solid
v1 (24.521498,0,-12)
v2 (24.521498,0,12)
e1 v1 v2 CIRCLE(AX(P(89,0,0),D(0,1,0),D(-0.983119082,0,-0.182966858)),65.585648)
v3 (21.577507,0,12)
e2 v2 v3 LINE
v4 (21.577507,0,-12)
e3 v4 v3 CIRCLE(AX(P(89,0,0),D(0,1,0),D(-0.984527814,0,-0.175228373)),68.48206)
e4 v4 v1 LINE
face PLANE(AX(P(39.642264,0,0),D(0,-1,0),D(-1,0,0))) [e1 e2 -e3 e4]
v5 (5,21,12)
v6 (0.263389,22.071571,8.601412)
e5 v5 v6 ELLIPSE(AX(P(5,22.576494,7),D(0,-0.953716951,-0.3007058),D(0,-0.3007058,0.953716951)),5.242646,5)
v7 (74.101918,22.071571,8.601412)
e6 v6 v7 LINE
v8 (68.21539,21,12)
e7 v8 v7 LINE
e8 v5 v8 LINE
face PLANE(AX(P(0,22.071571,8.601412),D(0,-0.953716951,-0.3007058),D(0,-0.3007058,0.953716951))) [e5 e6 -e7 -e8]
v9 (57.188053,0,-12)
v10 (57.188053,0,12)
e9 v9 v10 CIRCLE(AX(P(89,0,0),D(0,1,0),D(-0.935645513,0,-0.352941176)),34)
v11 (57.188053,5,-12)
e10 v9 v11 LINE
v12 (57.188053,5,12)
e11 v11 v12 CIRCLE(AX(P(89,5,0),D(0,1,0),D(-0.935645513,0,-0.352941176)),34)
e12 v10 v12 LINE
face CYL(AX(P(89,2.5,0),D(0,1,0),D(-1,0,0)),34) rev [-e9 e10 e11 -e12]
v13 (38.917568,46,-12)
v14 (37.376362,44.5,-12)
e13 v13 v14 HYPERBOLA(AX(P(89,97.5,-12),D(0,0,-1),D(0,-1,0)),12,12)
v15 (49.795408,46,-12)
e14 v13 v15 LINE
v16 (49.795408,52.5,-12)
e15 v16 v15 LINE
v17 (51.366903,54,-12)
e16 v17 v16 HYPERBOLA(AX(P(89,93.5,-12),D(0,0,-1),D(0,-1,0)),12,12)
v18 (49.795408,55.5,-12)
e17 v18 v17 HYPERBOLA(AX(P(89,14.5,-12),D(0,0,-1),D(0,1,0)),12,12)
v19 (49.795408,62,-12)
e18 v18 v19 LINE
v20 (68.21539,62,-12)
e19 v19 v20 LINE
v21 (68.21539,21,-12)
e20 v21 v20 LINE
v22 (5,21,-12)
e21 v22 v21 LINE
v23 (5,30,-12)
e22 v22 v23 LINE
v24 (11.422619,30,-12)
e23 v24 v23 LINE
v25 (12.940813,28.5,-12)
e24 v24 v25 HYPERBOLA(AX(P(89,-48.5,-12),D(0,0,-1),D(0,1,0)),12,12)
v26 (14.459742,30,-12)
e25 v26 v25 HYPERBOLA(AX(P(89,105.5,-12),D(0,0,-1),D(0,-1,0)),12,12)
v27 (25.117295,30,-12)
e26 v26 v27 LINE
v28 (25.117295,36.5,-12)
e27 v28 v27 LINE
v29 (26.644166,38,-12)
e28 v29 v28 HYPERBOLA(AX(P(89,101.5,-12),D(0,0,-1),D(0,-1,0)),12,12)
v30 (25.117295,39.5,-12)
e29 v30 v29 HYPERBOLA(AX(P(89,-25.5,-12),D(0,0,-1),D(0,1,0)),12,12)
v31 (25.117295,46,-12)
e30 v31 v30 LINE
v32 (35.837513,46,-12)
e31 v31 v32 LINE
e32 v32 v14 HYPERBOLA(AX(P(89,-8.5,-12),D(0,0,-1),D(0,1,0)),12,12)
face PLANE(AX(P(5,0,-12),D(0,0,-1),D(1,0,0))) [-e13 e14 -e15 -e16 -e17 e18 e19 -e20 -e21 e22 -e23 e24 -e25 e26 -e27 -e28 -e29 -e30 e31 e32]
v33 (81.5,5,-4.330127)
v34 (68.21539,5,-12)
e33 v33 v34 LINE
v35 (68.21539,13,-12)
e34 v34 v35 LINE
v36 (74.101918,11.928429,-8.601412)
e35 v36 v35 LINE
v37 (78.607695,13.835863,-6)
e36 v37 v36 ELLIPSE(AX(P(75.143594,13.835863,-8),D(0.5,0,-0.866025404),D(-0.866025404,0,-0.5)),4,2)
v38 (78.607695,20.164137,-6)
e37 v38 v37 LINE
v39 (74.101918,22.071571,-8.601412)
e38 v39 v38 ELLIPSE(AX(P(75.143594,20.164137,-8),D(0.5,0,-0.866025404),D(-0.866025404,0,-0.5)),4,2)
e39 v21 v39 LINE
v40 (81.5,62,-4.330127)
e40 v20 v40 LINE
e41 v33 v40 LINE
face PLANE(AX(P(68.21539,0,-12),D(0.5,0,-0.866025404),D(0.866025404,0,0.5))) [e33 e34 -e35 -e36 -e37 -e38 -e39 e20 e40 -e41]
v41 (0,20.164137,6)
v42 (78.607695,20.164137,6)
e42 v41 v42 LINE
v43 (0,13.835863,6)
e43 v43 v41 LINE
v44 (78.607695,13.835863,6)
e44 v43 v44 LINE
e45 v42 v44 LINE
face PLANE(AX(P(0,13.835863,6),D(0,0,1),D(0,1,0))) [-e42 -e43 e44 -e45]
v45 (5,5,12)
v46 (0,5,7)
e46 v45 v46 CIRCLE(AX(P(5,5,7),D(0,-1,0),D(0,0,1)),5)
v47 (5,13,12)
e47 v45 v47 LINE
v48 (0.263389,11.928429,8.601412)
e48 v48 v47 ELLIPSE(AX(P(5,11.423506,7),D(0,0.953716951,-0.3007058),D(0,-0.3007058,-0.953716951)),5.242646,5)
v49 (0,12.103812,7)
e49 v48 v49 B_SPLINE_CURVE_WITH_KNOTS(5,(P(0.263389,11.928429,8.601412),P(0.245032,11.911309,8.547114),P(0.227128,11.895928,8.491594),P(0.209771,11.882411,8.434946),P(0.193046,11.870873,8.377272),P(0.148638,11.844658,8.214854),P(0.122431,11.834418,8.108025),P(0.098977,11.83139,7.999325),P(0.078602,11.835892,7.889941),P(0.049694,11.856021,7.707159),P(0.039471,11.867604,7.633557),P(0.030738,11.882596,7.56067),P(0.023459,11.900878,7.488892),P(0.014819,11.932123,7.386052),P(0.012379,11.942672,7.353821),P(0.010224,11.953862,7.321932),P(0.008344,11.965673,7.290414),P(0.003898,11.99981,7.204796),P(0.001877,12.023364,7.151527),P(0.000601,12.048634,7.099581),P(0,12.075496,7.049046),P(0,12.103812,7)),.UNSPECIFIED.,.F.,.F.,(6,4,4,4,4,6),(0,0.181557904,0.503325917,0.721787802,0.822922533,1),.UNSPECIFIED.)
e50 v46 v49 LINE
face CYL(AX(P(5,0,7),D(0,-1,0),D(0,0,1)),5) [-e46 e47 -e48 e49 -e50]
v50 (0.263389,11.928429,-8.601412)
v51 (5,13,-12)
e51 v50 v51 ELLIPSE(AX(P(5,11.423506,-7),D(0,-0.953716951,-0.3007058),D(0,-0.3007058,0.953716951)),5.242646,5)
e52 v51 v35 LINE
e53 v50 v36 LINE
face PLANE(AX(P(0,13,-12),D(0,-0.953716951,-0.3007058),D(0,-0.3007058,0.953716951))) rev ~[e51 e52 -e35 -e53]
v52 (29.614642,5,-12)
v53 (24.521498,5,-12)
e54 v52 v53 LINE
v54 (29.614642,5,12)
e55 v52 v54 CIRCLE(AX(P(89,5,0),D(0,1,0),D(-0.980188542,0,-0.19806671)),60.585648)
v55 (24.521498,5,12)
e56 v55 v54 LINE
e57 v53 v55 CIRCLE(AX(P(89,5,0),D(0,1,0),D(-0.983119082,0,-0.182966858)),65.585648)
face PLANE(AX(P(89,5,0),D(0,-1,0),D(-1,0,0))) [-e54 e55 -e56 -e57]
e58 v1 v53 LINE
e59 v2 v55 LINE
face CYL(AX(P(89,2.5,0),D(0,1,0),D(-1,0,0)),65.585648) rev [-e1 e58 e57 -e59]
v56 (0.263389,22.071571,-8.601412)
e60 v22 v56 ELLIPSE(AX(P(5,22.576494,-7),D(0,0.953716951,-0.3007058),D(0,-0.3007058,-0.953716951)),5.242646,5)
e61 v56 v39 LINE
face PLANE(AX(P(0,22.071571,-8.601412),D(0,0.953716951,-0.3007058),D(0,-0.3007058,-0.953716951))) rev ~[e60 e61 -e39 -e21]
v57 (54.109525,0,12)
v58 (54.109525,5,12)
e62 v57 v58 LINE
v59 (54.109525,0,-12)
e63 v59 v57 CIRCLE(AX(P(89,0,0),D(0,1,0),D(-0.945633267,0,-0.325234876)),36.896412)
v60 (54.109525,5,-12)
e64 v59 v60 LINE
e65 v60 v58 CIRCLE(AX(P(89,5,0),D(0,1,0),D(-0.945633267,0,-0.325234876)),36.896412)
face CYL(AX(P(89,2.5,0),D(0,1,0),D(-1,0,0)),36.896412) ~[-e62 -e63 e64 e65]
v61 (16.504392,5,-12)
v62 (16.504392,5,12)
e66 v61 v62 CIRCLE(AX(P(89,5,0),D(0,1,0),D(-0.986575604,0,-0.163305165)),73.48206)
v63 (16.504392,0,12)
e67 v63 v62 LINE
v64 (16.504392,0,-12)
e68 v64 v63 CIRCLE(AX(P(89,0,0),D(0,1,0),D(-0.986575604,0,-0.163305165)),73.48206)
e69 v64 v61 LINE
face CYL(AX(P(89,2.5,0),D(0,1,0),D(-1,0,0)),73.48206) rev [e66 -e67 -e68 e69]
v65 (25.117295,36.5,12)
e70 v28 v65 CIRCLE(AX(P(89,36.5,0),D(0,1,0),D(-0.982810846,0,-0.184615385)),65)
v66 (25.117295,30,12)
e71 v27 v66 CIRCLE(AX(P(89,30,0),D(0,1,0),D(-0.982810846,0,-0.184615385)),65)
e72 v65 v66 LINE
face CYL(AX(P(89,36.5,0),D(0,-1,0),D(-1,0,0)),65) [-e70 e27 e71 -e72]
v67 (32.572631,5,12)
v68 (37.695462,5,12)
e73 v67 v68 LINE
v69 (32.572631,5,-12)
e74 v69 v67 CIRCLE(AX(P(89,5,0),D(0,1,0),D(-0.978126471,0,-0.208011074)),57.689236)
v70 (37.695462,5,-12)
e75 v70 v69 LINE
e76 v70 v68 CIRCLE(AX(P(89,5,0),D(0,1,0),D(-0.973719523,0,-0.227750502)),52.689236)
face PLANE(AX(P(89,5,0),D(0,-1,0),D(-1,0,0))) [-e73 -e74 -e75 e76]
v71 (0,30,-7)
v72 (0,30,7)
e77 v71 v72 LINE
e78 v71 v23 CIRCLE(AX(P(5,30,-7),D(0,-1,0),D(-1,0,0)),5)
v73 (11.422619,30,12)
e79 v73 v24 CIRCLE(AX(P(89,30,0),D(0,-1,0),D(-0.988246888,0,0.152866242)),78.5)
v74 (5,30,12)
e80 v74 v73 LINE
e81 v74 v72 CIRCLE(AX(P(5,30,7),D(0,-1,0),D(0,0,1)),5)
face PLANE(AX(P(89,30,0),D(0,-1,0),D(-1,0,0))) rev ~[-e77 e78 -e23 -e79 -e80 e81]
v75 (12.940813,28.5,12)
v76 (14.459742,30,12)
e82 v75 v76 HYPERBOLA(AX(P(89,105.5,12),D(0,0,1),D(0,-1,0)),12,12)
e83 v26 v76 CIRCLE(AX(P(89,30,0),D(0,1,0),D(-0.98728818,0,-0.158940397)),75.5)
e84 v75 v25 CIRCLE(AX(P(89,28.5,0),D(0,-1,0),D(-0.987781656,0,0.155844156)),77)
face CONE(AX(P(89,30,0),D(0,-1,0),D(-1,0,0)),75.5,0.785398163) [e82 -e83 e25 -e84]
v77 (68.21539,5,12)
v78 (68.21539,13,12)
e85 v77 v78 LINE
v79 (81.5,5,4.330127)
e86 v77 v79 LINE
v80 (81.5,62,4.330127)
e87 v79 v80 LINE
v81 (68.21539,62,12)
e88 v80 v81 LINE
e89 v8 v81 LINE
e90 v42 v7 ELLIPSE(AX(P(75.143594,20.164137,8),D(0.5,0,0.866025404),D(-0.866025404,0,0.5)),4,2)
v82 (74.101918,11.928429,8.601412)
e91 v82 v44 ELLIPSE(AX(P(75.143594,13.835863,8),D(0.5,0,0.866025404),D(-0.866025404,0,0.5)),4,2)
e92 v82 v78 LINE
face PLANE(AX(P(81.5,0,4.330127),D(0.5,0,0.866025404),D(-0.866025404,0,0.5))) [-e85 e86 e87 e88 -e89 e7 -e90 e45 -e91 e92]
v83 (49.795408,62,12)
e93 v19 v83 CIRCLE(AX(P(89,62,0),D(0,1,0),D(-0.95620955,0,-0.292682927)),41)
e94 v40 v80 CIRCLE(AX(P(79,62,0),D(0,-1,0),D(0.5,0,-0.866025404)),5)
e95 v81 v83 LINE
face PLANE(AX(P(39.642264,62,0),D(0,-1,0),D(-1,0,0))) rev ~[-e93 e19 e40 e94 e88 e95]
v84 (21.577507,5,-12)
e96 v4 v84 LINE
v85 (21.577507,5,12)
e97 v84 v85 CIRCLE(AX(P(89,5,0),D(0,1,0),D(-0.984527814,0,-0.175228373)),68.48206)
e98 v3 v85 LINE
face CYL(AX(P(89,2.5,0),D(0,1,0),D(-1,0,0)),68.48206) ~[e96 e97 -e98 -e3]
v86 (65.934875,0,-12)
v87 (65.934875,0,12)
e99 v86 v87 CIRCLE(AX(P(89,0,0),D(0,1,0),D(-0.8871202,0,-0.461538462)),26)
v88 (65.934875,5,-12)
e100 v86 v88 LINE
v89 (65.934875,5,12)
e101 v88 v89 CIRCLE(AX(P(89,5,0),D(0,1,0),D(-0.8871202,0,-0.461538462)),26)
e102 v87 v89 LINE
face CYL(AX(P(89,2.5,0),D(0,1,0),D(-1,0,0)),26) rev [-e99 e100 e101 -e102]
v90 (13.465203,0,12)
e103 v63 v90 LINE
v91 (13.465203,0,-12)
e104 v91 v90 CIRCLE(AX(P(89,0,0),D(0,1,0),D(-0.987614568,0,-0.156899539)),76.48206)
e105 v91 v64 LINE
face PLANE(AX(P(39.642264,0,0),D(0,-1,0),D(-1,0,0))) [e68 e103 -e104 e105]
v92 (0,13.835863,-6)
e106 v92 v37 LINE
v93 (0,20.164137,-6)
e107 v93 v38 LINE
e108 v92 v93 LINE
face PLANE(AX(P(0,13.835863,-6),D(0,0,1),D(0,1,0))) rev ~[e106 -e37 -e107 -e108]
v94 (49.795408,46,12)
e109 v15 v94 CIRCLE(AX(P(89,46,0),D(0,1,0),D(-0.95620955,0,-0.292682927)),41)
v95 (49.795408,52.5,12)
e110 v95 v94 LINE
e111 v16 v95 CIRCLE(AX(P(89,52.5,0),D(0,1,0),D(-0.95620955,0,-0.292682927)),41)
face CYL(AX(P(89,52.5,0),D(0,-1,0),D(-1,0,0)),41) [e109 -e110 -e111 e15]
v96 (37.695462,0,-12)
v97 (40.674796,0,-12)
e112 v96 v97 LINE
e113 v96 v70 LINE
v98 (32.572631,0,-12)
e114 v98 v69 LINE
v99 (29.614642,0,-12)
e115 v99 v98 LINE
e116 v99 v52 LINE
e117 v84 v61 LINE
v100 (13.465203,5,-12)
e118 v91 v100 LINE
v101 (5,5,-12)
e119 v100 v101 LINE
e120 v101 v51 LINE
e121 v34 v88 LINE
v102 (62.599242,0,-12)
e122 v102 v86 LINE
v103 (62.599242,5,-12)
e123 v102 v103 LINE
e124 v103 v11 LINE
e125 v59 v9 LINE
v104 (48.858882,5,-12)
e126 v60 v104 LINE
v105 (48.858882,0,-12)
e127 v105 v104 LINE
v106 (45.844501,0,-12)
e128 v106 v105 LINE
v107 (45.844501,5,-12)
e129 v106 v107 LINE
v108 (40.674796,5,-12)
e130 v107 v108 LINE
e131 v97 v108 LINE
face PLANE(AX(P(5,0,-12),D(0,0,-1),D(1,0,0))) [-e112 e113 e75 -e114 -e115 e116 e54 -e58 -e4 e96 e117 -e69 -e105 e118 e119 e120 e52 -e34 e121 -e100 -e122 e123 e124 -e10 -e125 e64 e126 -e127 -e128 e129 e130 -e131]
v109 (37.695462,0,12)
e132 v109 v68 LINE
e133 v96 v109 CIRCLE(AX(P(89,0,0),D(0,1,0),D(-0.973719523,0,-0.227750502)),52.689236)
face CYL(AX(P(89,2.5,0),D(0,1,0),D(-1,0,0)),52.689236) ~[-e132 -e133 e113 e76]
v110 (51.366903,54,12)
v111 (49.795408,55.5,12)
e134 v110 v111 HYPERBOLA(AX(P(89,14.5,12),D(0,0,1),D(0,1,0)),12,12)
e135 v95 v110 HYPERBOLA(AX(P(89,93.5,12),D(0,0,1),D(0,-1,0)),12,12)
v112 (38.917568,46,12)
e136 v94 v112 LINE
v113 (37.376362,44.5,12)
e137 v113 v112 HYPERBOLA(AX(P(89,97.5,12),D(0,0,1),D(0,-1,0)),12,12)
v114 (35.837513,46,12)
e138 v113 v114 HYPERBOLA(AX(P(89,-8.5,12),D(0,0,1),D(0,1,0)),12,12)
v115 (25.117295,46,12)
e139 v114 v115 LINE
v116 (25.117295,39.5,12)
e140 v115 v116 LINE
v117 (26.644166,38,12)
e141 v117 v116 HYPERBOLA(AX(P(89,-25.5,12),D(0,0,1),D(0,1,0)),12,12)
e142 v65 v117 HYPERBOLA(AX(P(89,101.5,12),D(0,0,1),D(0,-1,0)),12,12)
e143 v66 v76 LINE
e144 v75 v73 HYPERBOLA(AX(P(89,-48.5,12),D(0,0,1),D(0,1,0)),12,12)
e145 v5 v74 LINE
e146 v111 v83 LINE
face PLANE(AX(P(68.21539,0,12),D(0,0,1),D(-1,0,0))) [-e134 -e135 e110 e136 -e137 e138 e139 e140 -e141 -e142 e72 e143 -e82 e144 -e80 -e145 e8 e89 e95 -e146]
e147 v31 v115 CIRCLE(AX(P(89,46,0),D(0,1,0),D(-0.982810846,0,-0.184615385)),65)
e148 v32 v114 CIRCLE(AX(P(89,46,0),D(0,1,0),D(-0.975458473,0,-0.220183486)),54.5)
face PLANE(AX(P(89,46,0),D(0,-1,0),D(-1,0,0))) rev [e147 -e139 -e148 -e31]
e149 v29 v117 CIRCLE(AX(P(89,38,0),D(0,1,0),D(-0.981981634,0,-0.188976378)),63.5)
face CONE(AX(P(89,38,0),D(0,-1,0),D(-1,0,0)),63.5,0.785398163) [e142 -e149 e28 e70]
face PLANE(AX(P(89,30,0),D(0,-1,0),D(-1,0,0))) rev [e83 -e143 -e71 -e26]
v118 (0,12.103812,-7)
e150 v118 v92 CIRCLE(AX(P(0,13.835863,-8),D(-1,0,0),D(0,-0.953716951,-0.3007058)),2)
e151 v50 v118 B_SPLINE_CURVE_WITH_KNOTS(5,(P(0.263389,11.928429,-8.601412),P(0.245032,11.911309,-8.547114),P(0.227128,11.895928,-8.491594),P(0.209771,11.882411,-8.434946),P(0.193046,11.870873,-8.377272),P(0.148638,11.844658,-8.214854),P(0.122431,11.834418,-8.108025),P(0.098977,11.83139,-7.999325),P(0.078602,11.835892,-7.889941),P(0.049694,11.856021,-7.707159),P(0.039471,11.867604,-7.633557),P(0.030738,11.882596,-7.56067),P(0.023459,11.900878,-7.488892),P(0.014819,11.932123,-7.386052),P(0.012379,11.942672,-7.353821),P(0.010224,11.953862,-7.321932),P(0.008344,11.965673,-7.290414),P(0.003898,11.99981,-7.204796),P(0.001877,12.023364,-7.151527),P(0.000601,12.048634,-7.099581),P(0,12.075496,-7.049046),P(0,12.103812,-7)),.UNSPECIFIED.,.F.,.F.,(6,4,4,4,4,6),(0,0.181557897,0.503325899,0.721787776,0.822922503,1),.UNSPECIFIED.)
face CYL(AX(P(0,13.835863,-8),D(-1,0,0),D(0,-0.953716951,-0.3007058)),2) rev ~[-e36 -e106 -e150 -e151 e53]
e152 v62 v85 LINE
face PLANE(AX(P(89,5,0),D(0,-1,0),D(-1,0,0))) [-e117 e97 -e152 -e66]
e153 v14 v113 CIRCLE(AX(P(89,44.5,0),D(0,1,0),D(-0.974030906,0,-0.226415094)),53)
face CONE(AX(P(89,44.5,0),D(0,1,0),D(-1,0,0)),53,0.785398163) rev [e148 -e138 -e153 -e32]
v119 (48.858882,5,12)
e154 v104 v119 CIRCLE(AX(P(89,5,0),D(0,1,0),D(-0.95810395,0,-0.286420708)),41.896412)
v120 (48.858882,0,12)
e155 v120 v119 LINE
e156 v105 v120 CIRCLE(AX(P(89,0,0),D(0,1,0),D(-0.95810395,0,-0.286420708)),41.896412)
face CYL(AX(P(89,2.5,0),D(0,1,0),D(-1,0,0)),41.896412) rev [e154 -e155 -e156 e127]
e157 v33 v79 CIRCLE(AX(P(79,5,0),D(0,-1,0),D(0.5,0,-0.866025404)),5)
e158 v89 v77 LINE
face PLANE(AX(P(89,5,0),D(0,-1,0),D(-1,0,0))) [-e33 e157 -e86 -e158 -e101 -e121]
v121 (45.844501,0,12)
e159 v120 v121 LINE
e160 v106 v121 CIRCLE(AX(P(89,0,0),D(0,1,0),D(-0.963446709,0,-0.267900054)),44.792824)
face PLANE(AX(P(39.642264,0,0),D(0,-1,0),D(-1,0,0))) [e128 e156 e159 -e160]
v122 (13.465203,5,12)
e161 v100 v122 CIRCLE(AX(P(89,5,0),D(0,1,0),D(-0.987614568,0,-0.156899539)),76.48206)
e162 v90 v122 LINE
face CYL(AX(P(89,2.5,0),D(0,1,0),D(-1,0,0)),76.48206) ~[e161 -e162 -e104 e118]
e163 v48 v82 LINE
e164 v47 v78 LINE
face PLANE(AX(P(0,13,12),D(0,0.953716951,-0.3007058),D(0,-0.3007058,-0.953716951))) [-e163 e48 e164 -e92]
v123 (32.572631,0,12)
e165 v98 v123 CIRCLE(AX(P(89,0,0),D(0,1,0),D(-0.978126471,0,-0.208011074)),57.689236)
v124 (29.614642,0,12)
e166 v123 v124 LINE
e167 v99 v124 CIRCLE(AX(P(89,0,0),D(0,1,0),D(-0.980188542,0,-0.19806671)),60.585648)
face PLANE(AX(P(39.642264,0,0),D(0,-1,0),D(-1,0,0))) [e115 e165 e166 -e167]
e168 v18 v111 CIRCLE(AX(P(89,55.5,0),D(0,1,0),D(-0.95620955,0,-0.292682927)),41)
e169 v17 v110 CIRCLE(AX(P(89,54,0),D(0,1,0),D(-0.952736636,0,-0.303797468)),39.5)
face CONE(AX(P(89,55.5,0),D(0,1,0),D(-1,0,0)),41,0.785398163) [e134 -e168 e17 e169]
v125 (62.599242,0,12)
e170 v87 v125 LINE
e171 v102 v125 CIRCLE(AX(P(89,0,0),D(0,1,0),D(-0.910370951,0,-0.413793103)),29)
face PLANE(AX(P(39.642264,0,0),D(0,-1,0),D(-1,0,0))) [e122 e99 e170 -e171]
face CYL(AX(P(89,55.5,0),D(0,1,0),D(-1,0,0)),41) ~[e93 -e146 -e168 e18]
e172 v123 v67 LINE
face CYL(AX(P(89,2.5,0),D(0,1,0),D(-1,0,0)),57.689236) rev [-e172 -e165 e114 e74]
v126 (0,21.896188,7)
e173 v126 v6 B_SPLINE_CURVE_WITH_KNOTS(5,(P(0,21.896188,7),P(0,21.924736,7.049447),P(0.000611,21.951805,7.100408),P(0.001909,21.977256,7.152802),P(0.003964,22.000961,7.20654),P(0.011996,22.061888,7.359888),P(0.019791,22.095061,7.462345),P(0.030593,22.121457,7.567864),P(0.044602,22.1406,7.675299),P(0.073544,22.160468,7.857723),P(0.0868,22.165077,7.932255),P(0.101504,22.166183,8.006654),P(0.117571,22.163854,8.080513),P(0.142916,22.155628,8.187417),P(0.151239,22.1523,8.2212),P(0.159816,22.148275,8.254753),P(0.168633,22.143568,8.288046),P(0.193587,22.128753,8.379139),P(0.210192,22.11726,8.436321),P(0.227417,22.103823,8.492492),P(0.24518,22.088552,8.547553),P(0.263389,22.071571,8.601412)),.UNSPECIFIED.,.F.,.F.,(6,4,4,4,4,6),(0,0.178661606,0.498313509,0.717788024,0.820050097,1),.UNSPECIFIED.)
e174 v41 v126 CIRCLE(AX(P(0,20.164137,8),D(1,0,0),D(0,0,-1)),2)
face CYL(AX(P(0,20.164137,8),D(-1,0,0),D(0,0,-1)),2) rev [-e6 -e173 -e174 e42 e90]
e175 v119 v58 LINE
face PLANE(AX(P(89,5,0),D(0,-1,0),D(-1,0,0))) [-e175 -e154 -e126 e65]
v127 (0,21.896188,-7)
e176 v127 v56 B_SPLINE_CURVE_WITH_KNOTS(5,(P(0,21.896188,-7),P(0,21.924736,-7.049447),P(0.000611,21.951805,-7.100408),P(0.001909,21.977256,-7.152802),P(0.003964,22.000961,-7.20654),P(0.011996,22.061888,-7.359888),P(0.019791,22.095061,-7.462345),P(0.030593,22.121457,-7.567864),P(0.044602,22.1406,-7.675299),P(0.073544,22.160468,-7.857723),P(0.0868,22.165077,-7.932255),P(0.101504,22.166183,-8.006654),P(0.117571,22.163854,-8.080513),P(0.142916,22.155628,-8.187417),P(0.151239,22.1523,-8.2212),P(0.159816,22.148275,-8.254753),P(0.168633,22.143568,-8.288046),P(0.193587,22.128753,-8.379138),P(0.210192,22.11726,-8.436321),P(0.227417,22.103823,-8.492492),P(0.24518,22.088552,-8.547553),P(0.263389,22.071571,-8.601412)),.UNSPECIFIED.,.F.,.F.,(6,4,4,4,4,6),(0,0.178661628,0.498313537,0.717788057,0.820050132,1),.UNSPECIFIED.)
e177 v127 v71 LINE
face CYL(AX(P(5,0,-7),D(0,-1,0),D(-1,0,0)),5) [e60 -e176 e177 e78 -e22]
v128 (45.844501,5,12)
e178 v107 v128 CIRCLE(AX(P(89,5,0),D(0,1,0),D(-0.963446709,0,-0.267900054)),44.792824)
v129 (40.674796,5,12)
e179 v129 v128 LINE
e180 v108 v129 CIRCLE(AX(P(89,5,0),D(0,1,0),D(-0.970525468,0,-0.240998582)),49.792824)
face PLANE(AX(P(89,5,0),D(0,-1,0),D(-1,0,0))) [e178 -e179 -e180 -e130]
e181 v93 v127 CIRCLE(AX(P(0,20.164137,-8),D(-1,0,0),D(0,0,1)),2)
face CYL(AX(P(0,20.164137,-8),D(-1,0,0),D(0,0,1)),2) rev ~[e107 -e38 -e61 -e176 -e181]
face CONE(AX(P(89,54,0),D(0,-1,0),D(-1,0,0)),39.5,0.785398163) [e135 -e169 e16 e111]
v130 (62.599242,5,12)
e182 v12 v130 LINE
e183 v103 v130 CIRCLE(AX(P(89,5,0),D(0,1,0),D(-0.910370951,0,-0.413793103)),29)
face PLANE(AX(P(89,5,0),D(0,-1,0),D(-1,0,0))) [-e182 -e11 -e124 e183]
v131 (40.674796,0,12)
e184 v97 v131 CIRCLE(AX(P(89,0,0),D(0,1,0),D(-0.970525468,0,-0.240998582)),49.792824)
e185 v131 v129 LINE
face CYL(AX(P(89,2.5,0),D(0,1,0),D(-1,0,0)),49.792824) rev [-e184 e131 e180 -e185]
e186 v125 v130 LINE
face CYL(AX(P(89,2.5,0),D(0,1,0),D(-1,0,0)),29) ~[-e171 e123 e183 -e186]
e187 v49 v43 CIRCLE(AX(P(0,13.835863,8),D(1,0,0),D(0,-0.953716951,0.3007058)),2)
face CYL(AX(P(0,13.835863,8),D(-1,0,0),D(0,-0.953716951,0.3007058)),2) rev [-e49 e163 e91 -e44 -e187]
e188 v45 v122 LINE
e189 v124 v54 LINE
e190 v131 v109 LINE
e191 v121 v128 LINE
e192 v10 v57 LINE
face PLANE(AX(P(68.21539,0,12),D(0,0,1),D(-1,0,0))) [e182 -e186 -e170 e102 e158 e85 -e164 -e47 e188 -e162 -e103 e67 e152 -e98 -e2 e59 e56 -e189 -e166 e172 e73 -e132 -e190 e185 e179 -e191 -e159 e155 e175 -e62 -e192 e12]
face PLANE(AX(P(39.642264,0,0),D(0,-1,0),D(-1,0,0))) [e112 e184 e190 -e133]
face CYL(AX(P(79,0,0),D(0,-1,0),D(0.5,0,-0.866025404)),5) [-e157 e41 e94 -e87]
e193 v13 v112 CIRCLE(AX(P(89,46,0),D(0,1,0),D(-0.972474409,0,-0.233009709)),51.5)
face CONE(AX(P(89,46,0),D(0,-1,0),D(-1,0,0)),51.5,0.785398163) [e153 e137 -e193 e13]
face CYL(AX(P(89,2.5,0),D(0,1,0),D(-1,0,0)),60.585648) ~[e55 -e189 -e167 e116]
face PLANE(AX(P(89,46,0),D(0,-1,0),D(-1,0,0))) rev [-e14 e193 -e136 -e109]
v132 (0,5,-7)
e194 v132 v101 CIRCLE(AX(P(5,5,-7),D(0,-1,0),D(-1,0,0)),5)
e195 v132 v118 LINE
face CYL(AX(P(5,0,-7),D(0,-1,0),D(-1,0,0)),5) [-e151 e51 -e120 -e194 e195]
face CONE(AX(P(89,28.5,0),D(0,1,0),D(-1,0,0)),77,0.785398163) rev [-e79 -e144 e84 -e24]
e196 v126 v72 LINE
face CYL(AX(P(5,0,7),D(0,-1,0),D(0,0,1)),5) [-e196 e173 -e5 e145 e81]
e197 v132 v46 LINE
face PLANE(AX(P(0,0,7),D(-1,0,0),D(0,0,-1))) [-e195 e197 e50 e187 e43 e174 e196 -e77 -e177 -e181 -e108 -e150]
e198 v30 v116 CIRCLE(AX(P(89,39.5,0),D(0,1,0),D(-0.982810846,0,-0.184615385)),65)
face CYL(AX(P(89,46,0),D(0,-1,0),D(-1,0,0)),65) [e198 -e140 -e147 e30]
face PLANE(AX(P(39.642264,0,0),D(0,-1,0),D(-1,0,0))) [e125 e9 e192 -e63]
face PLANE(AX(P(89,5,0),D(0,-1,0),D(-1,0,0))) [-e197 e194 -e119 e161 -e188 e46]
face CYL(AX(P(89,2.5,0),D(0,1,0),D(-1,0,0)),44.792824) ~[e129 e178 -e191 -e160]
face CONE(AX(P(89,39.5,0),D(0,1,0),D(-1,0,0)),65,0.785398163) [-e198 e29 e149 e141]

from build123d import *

# Parameters (mm, degrees)
BOSS_EXTRUDE1_DEPTH = 62
SKETCH5_W           = 26
SKETCH5_H           = 5
SKETCH5_W_2         = 5
SKETCH5_W_3         = 14.428632876
CUT_EXTRUDE1_DEPTH  = 106.090437243


with BuildPart() as part:
    # Sketch1 → Boss-Extrude1 (new body)
    with BuildSketch(Plane(origin=(0, 0, 0), x_dir=(1, 0, 0), z_dir=(0, 1, 0))):
        with BuildLine():
            Line((0, -7), (0, 7))
            ThreePointArc((0, 7), (1.464466094, 10.535533906), (5, 12))
            Line((5, 12), (68.215390309, 12))
            Line((68.215390309, 12), (81.5, 4.330127019))
            ThreePointArc((81.5, 4.330127019), (84, 0), (81.5, -4.330127019))
            Line((81.5, -4.330127019), (68.215390309, -12))
            Line((68.215390309, -12), (5, -12))
            ThreePointArc((5, -12), (1.464466094, -10.535533906), (0, -7))
        make_face()
    extrude(amount=BOSS_EXTRUDE1_DEPTH)

    # Sketch2 → Cut-Revolve1 (revolve, cut)
    with BuildSketch(Plane.XY):
        Polygon((48, 62), (48, 55.5), (49.5, 54), (48, 52.5), (48, 46), (37.5, 46), (36, 44.5), (34.5, 46), (24, 46), (24, 39.5), (25.5, 38), (24, 36.5), (24, 30), (13.5, 30), (12, 28.5), (10.5, 30), (0, 30), (-10, 30), (-10, 72), (48, 72), align=None)
    revolve(axis=Axis((89, 71.362230297, 0), (0, -1, 0)), mode=Mode.SUBTRACT)

    # Sketch5 → Cut-Revolve2 (revolve, cut)
    with BuildSketch(Plane.XY):
        with Locations((76, 2.5)):
            Rectangle(SKETCH5_W, SKETCH5_H)
        with Locations((57.5, 2.5)):
            Rectangle(SKETCH5_W_2, SKETCH5_H)
        with Locations((49.603587942, 2.5)):
            Rectangle(SKETCH5_W_2, SKETCH5_H)
        with Locations((41.707175883, 2.5)):
            Rectangle(SKETCH5_W_2, SKETCH5_H)
        with Locations((33.810763825, 2.5)):
            Rectangle(SKETCH5_W_2, SKETCH5_H)
        with Locations((25.914351767, 2.5)):
            Rectangle(SKETCH5_W_2, SKETCH5_H)
        with Locations((18.017939709, 2.5)):
            Rectangle(SKETCH5_W_2, SKETCH5_H)
        with Locations((5.303623271, 2.5)):
            Rectangle(SKETCH5_W_3, SKETCH5_H)
    revolve(axis=Axis((89, 64.780829091, 0), (0, -1, 0)), mode=Mode.SUBTRACT)

    # Sketch6 → Cut-Extrude1 (cut, through all)
    with BuildSketch(Plane(origin=(0, 0, 0), x_dir=(0, 0, -1), z_dir=(1, 0, 0))):
        with BuildLine():
            ThreePointArc((8.601411599, 11.928429193), (6.817380703, 12.222973886), (6, 13.835863095))
            Line((6, 13.835863095), (6, 20.164136905))
            ThreePointArc((6, 20.164136905), (6.817380703, 21.777026114), (8.601411599, 22.071570807))
            Line((8.601411599, 22.071570807), (12, 21))
            Line((12, 21), (12.955765894, 20.698648171))
            Line((12.955765894, 20.698648171), (12.955765894, 13.301351829))
            Line((12.955765894, 13.301351829), (12, 13))
            Line((12, 13), (8.601411599, 11.928429193))
        make_face()
        with BuildLine():
            Line((-6, 13.835863095), (-6, 20.164136905))
            ThreePointArc((-6, 20.164136905), (-6.817380703, 21.777026114), (-8.601411599, 22.071570807))
            Line((-8.601411599, 22.071570807), (-12, 21))
            Line((-12, 21), (-12.955765894, 20.698648171))
            Line((-12.955765894, 20.698648171), (-12.955765894, 13.301351829))
            Line((-12.955765894, 13.301351829), (-12, 13))
            Line((-12, 13), (-8.601411599, 11.928429193))
            ThreePointArc((-8.601411599, 11.928429193), (-6.817380703, 12.222973886), (-6, 13.835863095))
        make_face()
    extrude(amount=CUT_EXTRUDE1_DEPTH, mode=Mode.SUBTRACT)


solid = part.part
